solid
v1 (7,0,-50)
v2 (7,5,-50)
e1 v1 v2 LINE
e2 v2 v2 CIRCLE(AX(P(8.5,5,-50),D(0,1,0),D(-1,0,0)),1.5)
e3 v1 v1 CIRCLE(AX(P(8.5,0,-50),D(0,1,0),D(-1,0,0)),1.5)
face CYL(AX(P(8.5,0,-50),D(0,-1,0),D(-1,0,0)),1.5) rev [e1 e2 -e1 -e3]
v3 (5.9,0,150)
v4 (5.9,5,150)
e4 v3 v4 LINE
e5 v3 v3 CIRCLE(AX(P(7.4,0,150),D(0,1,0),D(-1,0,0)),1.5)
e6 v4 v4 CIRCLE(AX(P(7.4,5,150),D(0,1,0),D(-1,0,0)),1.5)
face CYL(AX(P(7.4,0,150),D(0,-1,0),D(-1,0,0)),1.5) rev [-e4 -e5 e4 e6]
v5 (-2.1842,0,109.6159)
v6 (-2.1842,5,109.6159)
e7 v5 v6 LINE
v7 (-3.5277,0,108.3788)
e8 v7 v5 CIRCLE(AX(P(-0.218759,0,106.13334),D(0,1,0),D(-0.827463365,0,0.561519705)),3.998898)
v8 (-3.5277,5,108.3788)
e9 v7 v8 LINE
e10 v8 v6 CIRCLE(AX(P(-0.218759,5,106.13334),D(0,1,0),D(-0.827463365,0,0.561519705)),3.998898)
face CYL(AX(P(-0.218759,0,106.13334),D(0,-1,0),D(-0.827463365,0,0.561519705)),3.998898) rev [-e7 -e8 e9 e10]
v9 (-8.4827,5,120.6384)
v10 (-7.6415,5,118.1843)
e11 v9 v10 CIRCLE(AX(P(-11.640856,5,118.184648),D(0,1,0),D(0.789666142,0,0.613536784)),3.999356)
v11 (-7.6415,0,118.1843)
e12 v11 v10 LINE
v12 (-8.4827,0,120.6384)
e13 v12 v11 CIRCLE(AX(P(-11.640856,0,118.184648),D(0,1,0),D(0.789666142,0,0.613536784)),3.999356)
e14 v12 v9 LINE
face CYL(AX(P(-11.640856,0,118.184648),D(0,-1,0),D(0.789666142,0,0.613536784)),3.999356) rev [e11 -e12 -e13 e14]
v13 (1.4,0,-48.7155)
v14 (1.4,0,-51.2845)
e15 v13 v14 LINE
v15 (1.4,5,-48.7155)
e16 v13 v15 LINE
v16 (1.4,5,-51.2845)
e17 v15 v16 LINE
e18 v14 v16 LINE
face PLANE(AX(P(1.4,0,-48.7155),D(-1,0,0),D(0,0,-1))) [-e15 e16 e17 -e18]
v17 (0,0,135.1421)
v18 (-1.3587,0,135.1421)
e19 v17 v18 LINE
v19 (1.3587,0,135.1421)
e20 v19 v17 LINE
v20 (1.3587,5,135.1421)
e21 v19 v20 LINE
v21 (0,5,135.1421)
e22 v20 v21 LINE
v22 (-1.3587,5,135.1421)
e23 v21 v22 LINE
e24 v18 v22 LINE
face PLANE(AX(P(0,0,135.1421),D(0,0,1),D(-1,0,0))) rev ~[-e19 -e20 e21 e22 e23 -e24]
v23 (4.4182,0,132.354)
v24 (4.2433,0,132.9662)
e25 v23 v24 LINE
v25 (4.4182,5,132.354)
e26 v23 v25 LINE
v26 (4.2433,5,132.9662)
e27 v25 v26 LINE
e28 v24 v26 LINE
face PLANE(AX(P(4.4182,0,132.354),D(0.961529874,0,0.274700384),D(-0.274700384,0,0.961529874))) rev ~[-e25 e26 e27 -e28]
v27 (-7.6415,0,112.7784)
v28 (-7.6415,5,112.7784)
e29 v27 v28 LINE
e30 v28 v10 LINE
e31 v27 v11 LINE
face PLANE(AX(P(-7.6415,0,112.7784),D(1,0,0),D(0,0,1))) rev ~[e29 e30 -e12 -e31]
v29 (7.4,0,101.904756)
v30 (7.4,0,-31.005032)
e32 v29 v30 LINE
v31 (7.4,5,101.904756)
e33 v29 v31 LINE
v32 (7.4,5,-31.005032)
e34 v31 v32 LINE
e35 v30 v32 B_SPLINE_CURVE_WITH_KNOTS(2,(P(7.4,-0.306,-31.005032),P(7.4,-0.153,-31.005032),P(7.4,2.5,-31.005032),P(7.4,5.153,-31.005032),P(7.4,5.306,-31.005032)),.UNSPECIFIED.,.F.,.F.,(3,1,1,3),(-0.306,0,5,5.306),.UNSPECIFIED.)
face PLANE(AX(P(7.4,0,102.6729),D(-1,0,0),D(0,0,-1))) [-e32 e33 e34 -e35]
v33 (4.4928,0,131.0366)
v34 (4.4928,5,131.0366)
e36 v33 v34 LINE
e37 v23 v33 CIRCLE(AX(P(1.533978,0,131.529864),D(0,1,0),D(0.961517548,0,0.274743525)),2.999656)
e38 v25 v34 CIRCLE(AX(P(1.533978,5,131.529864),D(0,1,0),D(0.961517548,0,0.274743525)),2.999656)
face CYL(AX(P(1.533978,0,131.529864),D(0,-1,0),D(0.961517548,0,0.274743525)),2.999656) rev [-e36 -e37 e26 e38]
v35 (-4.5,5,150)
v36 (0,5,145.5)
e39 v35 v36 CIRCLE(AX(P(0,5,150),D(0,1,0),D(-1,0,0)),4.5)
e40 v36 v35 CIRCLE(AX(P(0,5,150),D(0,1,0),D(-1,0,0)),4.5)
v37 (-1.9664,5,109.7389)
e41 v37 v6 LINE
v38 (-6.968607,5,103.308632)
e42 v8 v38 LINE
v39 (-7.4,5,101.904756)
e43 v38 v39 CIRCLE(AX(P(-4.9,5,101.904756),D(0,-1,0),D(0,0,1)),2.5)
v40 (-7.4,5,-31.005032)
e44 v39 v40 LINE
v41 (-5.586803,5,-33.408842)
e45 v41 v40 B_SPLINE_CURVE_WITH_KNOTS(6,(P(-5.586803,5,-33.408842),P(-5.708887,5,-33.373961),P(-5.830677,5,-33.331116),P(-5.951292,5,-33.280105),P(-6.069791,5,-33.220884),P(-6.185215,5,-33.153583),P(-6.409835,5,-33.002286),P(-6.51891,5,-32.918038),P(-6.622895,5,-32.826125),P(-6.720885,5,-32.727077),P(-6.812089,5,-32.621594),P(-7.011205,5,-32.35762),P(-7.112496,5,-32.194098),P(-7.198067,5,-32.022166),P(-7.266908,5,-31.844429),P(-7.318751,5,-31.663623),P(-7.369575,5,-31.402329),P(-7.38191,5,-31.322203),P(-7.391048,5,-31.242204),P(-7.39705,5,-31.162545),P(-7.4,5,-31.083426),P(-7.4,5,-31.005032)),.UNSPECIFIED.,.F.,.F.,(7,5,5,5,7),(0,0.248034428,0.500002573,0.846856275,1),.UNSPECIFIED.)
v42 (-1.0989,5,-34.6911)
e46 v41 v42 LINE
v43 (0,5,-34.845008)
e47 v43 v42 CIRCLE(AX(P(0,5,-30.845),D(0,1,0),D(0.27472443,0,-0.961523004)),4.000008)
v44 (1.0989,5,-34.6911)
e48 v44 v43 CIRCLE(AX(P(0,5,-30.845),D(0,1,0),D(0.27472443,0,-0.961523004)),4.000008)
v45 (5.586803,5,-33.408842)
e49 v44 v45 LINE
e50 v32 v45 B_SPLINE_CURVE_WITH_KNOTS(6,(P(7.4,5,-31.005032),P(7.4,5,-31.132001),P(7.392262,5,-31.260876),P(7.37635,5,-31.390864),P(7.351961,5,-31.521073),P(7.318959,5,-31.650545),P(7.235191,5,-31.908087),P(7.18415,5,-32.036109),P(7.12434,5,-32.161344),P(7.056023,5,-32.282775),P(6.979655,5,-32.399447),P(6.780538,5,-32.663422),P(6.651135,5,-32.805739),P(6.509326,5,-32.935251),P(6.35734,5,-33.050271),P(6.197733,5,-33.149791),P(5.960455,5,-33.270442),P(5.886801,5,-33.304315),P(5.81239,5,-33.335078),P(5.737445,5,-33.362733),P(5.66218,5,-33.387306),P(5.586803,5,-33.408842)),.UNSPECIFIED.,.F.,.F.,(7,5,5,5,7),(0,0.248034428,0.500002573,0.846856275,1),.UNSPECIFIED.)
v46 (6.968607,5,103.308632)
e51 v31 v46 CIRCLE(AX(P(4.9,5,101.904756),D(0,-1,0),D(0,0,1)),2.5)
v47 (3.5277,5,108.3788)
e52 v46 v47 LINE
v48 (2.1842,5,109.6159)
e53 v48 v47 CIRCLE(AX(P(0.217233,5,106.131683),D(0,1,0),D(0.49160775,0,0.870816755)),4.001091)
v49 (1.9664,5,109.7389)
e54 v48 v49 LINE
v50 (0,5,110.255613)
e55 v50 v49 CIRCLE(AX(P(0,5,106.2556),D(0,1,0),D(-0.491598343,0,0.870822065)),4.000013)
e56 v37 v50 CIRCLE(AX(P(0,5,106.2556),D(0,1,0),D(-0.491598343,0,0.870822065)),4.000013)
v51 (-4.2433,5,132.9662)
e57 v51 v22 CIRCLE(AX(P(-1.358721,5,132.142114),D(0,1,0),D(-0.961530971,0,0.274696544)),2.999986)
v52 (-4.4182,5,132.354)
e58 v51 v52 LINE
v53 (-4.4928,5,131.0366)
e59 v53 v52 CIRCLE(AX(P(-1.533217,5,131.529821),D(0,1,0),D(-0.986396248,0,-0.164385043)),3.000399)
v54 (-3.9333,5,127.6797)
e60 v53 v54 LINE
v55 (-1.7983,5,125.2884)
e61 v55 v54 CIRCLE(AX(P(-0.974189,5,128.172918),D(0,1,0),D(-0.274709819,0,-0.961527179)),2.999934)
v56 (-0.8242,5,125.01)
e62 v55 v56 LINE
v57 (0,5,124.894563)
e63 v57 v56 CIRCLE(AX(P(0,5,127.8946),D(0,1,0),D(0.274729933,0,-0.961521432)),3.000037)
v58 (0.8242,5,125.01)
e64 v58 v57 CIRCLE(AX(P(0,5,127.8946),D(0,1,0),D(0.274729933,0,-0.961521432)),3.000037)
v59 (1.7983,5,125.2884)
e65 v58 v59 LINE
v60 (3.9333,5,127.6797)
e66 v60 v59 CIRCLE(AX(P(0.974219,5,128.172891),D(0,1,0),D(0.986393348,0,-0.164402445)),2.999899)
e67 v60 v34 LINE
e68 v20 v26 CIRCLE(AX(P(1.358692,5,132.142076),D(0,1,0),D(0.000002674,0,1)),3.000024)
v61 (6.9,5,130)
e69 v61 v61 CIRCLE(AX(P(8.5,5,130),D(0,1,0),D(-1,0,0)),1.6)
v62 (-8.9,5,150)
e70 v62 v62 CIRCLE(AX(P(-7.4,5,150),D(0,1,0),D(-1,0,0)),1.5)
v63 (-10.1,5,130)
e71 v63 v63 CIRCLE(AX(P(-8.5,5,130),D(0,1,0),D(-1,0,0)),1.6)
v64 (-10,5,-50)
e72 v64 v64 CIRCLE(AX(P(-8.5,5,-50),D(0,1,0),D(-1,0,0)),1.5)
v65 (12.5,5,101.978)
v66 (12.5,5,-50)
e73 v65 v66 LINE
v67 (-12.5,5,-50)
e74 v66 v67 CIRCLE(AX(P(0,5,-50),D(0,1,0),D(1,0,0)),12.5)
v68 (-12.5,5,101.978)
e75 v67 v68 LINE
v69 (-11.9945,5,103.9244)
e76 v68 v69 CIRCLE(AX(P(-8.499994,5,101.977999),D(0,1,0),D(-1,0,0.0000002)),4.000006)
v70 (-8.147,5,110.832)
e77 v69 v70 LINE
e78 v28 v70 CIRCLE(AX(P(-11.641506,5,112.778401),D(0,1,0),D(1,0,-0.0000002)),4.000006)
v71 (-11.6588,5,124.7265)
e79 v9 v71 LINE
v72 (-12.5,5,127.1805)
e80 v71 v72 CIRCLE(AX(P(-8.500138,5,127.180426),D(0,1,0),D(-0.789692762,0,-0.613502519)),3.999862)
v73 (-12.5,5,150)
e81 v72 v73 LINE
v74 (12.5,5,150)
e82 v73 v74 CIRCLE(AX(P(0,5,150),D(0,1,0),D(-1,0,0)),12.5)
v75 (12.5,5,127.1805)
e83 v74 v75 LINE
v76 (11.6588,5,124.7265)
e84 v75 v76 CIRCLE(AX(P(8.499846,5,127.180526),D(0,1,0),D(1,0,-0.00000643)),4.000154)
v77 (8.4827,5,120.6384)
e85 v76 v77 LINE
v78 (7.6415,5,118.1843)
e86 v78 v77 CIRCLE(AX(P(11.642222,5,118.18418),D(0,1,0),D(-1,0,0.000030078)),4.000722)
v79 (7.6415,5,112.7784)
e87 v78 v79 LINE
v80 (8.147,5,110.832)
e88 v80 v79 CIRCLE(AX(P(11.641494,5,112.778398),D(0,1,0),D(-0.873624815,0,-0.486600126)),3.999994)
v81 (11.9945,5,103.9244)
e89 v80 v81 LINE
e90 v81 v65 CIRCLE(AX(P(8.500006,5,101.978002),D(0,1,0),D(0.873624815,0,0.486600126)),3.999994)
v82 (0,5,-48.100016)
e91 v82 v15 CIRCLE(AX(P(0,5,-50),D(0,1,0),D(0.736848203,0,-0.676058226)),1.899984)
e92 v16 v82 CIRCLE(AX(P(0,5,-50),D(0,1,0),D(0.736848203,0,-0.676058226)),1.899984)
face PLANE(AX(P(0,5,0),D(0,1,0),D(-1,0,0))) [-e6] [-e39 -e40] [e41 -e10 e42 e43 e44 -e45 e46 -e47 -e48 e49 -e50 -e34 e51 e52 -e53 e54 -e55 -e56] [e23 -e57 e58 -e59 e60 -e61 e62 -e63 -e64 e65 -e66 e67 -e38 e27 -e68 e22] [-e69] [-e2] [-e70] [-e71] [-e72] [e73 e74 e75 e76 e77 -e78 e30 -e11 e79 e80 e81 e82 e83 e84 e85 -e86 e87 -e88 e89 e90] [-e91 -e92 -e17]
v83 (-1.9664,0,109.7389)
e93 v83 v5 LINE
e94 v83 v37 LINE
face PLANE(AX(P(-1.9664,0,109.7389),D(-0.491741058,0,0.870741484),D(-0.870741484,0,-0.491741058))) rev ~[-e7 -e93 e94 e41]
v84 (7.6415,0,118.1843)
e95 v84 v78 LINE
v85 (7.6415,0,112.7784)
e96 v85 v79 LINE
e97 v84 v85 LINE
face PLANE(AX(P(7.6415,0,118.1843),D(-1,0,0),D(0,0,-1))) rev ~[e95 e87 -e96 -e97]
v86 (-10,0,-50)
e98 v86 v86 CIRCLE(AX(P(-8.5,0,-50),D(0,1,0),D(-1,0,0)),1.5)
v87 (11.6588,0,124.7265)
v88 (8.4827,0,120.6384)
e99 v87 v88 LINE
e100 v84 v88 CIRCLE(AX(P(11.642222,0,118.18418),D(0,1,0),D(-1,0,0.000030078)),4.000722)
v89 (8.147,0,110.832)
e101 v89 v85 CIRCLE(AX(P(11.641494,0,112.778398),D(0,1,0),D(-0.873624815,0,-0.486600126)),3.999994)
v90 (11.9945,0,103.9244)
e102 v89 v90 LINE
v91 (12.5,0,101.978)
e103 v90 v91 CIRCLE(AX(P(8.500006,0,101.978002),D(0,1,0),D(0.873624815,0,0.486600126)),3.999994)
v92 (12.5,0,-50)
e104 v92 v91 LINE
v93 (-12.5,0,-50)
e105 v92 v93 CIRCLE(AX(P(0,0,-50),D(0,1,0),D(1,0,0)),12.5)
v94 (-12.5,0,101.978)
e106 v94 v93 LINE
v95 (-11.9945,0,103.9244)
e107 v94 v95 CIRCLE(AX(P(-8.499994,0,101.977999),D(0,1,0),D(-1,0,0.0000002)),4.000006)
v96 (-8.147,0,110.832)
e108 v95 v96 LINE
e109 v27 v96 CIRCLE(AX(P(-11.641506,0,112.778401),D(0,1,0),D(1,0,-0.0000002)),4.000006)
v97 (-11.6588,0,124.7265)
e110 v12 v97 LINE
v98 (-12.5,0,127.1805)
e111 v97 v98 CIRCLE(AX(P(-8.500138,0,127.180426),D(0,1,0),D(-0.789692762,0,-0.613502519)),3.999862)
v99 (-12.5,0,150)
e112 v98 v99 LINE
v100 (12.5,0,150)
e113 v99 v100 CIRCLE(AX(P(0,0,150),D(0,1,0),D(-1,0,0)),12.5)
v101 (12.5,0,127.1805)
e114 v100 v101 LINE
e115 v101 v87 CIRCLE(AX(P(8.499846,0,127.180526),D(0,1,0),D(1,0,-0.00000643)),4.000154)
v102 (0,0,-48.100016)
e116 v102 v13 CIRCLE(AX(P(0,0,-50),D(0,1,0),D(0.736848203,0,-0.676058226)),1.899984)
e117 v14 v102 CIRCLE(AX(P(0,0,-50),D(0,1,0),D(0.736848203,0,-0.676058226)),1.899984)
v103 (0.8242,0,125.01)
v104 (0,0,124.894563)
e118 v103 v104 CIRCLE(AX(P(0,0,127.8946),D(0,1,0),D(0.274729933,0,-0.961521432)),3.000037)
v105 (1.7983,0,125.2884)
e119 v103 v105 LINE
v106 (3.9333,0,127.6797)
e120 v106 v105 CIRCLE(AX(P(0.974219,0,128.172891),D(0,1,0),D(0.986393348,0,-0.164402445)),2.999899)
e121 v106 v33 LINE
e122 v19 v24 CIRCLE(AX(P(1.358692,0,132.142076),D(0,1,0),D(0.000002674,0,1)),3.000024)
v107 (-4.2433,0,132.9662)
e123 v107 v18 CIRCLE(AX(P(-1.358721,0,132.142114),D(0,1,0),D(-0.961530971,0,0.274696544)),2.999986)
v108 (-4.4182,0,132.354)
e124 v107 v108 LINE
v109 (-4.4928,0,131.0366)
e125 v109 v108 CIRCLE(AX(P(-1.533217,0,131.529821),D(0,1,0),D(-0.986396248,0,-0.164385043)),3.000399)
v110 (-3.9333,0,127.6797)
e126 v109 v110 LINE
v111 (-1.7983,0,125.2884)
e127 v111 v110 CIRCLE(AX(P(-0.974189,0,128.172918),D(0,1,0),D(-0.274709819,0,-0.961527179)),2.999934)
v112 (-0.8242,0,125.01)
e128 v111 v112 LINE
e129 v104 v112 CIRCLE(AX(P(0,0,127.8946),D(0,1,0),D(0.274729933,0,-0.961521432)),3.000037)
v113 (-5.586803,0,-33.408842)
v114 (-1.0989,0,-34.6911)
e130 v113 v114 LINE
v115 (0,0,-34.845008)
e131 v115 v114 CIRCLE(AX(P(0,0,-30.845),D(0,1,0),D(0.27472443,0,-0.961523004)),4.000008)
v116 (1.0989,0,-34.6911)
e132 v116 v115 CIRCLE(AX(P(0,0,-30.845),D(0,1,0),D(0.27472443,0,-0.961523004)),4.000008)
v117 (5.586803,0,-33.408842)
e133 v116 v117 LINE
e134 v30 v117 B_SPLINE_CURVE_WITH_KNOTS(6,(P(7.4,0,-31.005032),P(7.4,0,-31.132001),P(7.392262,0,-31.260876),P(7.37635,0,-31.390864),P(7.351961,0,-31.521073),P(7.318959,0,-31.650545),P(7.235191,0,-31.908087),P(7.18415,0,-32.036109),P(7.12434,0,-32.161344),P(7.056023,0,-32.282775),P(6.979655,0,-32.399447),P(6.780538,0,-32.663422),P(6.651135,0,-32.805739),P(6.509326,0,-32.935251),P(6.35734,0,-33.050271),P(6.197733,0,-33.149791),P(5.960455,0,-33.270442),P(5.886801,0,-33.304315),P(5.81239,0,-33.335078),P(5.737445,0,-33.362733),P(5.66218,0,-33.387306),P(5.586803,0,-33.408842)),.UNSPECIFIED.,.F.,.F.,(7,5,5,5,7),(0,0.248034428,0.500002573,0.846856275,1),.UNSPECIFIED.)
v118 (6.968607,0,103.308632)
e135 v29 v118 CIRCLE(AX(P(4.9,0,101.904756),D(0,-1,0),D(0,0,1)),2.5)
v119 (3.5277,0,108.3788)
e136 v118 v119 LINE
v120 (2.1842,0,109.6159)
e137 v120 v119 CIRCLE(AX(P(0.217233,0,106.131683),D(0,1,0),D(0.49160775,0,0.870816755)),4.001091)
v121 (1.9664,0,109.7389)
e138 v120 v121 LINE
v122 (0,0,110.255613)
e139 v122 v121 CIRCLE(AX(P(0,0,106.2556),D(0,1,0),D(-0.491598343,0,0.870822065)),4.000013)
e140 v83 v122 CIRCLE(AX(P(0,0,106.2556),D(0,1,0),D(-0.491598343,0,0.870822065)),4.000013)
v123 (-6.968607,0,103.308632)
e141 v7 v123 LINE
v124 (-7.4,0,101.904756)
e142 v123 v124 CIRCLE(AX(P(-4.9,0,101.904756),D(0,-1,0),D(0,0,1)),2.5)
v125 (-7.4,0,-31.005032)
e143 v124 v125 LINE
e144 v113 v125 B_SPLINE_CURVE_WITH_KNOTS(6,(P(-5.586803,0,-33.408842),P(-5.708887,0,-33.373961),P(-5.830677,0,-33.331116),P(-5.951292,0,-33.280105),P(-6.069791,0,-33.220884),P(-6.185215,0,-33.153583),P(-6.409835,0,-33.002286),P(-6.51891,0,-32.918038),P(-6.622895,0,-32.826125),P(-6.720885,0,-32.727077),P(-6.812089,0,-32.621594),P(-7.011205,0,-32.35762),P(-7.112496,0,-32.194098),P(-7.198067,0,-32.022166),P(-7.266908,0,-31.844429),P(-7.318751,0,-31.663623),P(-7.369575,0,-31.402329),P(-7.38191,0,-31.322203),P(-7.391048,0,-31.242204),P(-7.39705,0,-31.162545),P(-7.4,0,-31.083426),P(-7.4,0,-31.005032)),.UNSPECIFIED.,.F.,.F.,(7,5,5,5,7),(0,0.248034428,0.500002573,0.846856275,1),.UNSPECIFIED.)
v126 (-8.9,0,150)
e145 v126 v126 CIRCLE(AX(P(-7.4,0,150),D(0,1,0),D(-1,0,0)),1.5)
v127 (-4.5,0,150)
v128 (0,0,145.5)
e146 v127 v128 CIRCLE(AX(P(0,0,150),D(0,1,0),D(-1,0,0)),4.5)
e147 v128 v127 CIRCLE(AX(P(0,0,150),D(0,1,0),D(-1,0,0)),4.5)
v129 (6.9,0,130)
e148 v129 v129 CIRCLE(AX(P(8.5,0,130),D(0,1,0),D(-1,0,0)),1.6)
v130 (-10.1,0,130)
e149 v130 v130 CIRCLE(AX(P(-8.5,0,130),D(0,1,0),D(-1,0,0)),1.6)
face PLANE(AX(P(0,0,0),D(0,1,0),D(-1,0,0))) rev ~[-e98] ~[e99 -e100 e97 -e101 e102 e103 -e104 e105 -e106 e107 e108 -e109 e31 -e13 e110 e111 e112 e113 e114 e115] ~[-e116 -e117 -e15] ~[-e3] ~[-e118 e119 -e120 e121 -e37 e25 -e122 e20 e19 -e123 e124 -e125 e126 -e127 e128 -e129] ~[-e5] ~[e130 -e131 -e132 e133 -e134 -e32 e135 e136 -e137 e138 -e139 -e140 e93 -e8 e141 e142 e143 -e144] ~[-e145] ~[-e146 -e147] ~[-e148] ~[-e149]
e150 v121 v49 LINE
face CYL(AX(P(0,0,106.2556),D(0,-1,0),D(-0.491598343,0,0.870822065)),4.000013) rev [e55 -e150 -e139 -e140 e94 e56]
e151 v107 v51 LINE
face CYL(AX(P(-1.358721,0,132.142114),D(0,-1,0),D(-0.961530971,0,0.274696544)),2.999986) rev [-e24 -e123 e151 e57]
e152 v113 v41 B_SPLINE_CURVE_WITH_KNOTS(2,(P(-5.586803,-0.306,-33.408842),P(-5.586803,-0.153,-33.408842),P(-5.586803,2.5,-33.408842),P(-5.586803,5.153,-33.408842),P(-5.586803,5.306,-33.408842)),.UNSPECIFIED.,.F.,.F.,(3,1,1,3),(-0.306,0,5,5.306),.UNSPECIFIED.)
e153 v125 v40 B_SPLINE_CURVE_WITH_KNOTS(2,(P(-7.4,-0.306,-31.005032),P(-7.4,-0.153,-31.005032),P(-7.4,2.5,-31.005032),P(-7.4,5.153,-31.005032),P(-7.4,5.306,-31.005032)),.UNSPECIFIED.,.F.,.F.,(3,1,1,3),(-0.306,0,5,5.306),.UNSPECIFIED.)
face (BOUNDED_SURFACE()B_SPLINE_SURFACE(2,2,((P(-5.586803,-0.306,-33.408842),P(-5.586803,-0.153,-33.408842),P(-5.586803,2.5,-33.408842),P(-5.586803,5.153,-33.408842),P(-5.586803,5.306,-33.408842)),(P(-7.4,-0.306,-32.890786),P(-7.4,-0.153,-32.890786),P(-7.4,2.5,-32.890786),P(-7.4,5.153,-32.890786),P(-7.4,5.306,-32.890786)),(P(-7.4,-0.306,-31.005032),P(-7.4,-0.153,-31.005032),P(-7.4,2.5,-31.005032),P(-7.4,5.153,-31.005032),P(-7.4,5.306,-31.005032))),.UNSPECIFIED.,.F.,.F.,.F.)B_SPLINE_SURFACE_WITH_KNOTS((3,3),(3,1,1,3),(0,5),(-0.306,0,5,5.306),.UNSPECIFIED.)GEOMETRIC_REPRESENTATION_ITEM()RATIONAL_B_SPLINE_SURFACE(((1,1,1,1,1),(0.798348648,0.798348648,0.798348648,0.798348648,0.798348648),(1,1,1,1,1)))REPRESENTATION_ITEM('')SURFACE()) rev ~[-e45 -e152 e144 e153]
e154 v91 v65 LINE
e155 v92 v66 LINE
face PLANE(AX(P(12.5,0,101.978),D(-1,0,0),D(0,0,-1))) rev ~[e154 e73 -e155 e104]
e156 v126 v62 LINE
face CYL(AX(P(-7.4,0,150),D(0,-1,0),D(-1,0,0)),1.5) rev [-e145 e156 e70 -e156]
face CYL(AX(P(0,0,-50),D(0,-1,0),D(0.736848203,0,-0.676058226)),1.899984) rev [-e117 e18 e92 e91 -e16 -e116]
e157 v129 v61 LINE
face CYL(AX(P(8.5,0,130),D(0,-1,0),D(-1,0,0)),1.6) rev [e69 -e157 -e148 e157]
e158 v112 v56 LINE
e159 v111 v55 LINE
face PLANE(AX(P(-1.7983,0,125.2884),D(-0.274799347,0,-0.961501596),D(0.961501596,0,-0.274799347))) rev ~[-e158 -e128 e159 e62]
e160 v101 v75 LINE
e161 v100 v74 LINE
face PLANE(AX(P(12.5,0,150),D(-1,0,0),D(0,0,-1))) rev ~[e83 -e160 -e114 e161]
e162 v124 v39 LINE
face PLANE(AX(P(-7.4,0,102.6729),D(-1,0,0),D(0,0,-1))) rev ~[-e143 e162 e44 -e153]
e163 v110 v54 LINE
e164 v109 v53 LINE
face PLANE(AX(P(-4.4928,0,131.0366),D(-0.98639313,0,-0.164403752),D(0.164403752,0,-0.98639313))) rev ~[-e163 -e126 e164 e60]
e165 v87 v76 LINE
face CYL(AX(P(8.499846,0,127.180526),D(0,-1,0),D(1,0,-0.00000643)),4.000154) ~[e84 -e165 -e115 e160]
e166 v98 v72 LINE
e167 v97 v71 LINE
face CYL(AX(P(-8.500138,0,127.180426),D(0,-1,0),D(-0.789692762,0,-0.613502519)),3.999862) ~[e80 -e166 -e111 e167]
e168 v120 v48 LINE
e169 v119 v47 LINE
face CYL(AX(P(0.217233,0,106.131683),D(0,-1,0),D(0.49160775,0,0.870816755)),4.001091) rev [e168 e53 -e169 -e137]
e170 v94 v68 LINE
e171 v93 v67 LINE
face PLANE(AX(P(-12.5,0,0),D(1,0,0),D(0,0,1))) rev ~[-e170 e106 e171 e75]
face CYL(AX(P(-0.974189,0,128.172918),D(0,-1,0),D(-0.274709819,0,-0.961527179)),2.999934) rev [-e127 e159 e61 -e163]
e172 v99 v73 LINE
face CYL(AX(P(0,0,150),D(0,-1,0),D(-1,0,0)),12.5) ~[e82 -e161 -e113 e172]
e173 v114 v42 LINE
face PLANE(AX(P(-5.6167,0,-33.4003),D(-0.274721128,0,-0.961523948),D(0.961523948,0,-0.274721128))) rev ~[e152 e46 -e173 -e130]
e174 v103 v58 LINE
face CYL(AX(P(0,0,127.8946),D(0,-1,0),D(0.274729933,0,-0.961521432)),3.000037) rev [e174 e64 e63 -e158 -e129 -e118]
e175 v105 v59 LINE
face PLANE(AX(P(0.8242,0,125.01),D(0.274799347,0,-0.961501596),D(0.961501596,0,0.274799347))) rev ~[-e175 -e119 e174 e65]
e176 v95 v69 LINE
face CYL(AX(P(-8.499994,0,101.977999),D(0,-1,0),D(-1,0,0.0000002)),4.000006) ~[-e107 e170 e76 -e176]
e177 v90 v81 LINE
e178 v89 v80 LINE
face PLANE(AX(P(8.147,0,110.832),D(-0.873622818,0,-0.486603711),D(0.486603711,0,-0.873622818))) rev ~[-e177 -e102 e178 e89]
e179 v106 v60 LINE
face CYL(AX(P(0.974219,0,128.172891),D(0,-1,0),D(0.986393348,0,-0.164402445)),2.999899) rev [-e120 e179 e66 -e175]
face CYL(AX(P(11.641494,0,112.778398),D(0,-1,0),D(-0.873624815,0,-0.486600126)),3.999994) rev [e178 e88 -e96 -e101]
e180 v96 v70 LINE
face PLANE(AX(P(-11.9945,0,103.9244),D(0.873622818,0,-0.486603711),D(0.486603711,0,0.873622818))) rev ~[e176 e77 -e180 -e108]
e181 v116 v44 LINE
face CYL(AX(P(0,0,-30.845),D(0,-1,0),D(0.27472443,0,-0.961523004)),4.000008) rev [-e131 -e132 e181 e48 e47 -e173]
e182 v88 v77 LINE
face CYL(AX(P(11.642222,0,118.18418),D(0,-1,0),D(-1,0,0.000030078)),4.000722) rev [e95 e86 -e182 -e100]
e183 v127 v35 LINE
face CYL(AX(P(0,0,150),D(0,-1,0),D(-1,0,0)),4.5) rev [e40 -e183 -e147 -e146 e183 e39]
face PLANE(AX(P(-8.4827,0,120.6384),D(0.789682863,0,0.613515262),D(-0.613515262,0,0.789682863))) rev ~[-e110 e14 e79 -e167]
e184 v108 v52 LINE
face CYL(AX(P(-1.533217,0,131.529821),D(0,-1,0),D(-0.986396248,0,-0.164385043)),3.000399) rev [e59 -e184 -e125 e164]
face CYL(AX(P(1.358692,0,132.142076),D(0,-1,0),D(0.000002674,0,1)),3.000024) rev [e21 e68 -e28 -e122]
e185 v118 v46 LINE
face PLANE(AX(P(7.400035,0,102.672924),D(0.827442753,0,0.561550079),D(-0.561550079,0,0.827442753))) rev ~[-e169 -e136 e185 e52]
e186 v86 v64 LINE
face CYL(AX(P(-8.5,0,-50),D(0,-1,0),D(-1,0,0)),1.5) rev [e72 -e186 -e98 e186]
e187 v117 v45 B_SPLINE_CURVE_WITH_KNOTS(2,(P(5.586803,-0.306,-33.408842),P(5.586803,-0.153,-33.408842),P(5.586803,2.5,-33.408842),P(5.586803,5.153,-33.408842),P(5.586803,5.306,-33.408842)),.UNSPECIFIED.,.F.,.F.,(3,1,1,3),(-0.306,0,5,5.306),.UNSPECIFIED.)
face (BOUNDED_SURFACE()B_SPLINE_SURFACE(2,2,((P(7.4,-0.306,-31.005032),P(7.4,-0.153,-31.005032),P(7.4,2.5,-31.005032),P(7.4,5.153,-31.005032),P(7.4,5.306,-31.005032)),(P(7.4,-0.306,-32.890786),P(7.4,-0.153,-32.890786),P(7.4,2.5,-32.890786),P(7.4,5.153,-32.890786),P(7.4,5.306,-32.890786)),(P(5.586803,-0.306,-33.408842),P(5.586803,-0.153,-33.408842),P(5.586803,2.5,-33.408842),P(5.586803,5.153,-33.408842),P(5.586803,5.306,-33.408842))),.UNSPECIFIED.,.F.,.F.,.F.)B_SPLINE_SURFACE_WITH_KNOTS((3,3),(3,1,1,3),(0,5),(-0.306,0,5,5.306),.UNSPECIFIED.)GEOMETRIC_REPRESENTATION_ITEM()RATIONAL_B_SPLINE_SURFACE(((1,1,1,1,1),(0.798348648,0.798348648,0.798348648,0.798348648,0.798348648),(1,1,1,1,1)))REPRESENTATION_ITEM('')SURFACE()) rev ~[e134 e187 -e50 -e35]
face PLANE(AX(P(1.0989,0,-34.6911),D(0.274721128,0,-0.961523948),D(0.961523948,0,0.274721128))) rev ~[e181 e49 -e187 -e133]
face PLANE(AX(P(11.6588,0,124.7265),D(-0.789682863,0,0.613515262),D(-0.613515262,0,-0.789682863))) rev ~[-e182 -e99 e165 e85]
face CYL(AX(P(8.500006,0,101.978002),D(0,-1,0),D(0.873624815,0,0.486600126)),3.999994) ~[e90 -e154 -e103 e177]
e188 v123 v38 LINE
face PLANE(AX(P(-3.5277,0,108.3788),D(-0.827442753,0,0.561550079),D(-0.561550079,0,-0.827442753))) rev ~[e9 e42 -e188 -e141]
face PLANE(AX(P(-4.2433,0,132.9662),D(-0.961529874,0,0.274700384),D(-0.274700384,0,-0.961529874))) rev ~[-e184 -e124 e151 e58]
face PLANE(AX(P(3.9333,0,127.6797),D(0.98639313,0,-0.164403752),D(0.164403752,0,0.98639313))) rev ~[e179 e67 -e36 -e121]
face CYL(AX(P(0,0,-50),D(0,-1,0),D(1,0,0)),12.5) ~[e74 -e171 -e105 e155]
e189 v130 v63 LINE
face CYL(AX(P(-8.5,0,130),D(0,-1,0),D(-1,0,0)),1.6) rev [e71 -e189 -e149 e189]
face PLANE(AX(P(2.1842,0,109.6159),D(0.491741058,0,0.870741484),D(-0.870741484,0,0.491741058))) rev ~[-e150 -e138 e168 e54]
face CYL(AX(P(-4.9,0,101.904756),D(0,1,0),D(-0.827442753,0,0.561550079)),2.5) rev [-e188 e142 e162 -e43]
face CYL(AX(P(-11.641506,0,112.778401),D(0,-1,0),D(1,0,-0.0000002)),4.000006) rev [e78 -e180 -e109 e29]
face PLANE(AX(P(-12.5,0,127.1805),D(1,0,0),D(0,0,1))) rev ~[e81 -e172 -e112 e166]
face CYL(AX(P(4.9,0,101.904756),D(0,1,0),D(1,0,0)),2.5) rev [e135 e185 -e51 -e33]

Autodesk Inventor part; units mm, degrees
ref_plane "YZ Plane" through (0, 0, 0) normal (1, 0, 0) x (0, 1, 0)
ref_plane "XZ Plane" through (0, 0, 0) normal (0, 1, 0) x (-1, 0, 0)
ref_plane "XY Plane" through (0, 0, 0) normal (0, 0, 1) x (1, 0, 0)
sketch "Sketch1" plane through (0, 0, 0) normal (0, 1, 0) x (-1, 0, 0)
  arc A0 (-1.4, -51.2845) -> (-1.4, -48.7155) centre (0, -50) ccw
  line L0 (-1.4, -48.7155) -> (-1.4, -51.2845)
  line L1 (-2.1842, 109.6159) -> (-1.9664, 109.7389)
  arc A1 (1.9664, 109.7389) -> (-1.9664, 109.7389) centre (0, 106.2556) ccw
  line L2 (1.9664, 109.7389) -> (2.1842, 109.6159)
  arc A2 (3.5277, 108.3788) -> (2.1842, 109.6159) centre (0.2179, 106.1326) ccw
  line L3 (3.5277, 108.3788) -> (8.2122, 101.4762)
  arc A3 (8.9023, 99.2105) -> (8.2122, 101.4762) centre (4.9024, 99.23) ccw
  line L4 (8.9023, 99.2105) -> (8.5178, 20.4265)
  arc A4 (5.6167, -33.4003) -> (8.5178, -29.5737) centre (4.5178, -29.5542) ccw
  line L5 (5.6167, -33.4003) -> (1.0989, -34.6911)
  arc A5 (-1.0989, -34.6911) -> (1.0989, -34.6911) centre (0, -30.845) ccw
  line L6 (-1.0989, -34.6911) -> (-5.6167, -33.4003)
  arc A6 (-8.5178, -29.5737) -> (-5.6167, -33.4003) centre (-4.5178, -29.5542) ccw
  line L7 (-8.5178, 20.4265) -> (-8.9023, 99.2105)
  arc A7 (-8.2122, 101.4762) -> (-8.9023, 99.2105) centre (-4.9024, 99.23) ccw
  line L8 (-8.2122, 101.4762) -> (-3.5277, 108.3788)
  arc A8 (-2.1842, 109.6159) -> (-3.5277, 108.3788) centre (-0.2179, 106.1326) ccw
  line L9 (-3.9333, 127.6797) -> (-4.4928, 131.0366)
  arc A9 (-4.4182, 132.354) -> (-4.4928, 131.0366) centre (-1.5336, 131.5298) ccw
  line L10 (-4.4182, 132.354) -> (-4.2433, 132.9662)
  arc A10 (-1.3587, 135.1421) -> (-4.2433, 132.9662) centre (-1.3587, 132.1421) ccw
  line L11 (-1.3587, 135.1421) -> (1.3587, 135.1421)
  arc A11 (4.2433, 132.9662) -> (1.3587, 135.1421) centre (1.3587, 132.1421) ccw
  line L12 (4.2433, 132.9662) -> (4.4182, 132.354)
  arc A12 (4.4928, 131.0366) -> (4.4182, 132.354) centre (1.5336, 131.5298) ccw
  line L13 (4.4928, 131.0366) -> (3.9333, 127.6797)
  arc A13 (1.7983, 125.2884) -> (3.9333, 127.6797) centre (0.9742, 128.1729) ccw
  line L14 (1.7983, 125.2884) -> (0.8242, 125.01)
  arc A14 (-0.8242, 125.01) -> (0.8242, 125.01) centre (0, 127.8946) ccw
  line L15 (-0.8242, 125.01) -> (-1.7983, 125.2884)
  arc A15 (-3.9333, 127.6797) -> (-1.7983, 125.2884) centre (-0.9742, 128.1729) ccw
  arc A16 (-12.5, 127.1805) -> (-11.6588, 124.7265) centre (-8.5, 127.1805) ccw
  line L16 (-11.6588, 124.7265) -> (-8.4827, 120.6384)
  arc A17 (-7.6415, 118.1843) -> (-8.4827, 120.6384) centre (-11.6415, 118.1843) ccw
  line L17 (-7.6415, 118.1843) -> (-7.6415, 112.7784)
  arc A18 (-8.147, 110.832) -> (-7.6415, 112.7784) centre (-11.6415, 112.7784) ccw
  line L18 (-8.147, 110.832) -> (-11.9945, 103.9244)
  arc A19 (-11.9945, 103.9244) -> (-12.5, 101.978) centre (-8.5, 101.978) ccw
  line L19 (-12.5, 101.978) -> (-12.5, 0)
  arc A20 (-12.5, -50) -> (12.5, -50) centre (0, -50) ccw
  line L20 (12.5, 0) -> (12.5, 101.978)
  arc A21 (12.5, 101.978) -> (11.9945, 103.9244) centre (8.5, 101.978) ccw
  line L21 (11.9945, 103.9244) -> (8.147, 110.832)
  arc A22 (7.6415, 112.7784) -> (8.147, 110.832) centre (11.6415, 112.7784) ccw
  line L22 (7.6415, 112.7784) -> (7.6415, 118.1843)
  arc A23 (8.4827, 120.6384) -> (7.6415, 118.1843) centre (11.6415, 118.1843) ccw
  line L23 (8.4827, 120.6384) -> (11.6588, 124.7265)
  arc A24 (11.6588, 124.7265) -> (12.5, 127.1805) centre (8.5, 127.1805) ccw
  line L24 (12.5, 127.1805) -> (12.5, 150)
  arc A25 (12.5, 150) -> (-12.5, 150) centre (0, 150) ccw
  line L25 (-12.5, 150) -> (-12.5, 127.1805)
  circle A26 centre (8.5, -50) radius 1.5
  circle A27 centre (-8.5, -50) radius 1.5
  circle A28 centre (0, 150) radius 4.5
  circle A29 centre (-8.5, 130) radius 1.6
  circle A30 centre (8.5, 130) radius 1.6
  circle A31 centre (-7.4, 150) radius 1.5
  circle A32 centre (7.4, 150) radius 1.5
  line L26 (0, 150) -> (0, -50)
  line L27 (0, -50) -> (0, -30.845)
  line L28 (12.5, 0) -> (12.5, -50)
  line L29 (-12.5, 0) -> (-12.5, -50)
  line L30 (-8.5178, 20.4265) -> (-8.5178, -29.5737)
  line L31 (8.5178, 20.4265) -> (8.5178, -29.5737)
  line L32 (7.4, 102.6729) -> (7.4, -32.3278)
  line L33 (-7.4, 102.6729) -> (-7.4, -32.3278)
  point P0 (0, 0)
  dimension "d0" = 200
  dimension "d1" = 19.155
extrude "Extrusion1" add sketch "Sketch1" along normal blind 5 contours A6 L30 L7 A7 L8 L33 | L32 L3 A3 L4 L31 A4 | L25 A25 L24 A24 L23 A23 L22 A22 L21 A21 L20 L28 A20 L29 L19 A19 L18 A18 L17 A17 L16 A16
fillet "Fillet1" radius 2.5 4 edges at (7.4, 2.5, 102.6729) (-7.4, 2.5, 102.6729) (7.4, 2.5, -32.3278) (-7.4, 2.5, -32.3278)
properties material "Polycarbonate, Clear"
